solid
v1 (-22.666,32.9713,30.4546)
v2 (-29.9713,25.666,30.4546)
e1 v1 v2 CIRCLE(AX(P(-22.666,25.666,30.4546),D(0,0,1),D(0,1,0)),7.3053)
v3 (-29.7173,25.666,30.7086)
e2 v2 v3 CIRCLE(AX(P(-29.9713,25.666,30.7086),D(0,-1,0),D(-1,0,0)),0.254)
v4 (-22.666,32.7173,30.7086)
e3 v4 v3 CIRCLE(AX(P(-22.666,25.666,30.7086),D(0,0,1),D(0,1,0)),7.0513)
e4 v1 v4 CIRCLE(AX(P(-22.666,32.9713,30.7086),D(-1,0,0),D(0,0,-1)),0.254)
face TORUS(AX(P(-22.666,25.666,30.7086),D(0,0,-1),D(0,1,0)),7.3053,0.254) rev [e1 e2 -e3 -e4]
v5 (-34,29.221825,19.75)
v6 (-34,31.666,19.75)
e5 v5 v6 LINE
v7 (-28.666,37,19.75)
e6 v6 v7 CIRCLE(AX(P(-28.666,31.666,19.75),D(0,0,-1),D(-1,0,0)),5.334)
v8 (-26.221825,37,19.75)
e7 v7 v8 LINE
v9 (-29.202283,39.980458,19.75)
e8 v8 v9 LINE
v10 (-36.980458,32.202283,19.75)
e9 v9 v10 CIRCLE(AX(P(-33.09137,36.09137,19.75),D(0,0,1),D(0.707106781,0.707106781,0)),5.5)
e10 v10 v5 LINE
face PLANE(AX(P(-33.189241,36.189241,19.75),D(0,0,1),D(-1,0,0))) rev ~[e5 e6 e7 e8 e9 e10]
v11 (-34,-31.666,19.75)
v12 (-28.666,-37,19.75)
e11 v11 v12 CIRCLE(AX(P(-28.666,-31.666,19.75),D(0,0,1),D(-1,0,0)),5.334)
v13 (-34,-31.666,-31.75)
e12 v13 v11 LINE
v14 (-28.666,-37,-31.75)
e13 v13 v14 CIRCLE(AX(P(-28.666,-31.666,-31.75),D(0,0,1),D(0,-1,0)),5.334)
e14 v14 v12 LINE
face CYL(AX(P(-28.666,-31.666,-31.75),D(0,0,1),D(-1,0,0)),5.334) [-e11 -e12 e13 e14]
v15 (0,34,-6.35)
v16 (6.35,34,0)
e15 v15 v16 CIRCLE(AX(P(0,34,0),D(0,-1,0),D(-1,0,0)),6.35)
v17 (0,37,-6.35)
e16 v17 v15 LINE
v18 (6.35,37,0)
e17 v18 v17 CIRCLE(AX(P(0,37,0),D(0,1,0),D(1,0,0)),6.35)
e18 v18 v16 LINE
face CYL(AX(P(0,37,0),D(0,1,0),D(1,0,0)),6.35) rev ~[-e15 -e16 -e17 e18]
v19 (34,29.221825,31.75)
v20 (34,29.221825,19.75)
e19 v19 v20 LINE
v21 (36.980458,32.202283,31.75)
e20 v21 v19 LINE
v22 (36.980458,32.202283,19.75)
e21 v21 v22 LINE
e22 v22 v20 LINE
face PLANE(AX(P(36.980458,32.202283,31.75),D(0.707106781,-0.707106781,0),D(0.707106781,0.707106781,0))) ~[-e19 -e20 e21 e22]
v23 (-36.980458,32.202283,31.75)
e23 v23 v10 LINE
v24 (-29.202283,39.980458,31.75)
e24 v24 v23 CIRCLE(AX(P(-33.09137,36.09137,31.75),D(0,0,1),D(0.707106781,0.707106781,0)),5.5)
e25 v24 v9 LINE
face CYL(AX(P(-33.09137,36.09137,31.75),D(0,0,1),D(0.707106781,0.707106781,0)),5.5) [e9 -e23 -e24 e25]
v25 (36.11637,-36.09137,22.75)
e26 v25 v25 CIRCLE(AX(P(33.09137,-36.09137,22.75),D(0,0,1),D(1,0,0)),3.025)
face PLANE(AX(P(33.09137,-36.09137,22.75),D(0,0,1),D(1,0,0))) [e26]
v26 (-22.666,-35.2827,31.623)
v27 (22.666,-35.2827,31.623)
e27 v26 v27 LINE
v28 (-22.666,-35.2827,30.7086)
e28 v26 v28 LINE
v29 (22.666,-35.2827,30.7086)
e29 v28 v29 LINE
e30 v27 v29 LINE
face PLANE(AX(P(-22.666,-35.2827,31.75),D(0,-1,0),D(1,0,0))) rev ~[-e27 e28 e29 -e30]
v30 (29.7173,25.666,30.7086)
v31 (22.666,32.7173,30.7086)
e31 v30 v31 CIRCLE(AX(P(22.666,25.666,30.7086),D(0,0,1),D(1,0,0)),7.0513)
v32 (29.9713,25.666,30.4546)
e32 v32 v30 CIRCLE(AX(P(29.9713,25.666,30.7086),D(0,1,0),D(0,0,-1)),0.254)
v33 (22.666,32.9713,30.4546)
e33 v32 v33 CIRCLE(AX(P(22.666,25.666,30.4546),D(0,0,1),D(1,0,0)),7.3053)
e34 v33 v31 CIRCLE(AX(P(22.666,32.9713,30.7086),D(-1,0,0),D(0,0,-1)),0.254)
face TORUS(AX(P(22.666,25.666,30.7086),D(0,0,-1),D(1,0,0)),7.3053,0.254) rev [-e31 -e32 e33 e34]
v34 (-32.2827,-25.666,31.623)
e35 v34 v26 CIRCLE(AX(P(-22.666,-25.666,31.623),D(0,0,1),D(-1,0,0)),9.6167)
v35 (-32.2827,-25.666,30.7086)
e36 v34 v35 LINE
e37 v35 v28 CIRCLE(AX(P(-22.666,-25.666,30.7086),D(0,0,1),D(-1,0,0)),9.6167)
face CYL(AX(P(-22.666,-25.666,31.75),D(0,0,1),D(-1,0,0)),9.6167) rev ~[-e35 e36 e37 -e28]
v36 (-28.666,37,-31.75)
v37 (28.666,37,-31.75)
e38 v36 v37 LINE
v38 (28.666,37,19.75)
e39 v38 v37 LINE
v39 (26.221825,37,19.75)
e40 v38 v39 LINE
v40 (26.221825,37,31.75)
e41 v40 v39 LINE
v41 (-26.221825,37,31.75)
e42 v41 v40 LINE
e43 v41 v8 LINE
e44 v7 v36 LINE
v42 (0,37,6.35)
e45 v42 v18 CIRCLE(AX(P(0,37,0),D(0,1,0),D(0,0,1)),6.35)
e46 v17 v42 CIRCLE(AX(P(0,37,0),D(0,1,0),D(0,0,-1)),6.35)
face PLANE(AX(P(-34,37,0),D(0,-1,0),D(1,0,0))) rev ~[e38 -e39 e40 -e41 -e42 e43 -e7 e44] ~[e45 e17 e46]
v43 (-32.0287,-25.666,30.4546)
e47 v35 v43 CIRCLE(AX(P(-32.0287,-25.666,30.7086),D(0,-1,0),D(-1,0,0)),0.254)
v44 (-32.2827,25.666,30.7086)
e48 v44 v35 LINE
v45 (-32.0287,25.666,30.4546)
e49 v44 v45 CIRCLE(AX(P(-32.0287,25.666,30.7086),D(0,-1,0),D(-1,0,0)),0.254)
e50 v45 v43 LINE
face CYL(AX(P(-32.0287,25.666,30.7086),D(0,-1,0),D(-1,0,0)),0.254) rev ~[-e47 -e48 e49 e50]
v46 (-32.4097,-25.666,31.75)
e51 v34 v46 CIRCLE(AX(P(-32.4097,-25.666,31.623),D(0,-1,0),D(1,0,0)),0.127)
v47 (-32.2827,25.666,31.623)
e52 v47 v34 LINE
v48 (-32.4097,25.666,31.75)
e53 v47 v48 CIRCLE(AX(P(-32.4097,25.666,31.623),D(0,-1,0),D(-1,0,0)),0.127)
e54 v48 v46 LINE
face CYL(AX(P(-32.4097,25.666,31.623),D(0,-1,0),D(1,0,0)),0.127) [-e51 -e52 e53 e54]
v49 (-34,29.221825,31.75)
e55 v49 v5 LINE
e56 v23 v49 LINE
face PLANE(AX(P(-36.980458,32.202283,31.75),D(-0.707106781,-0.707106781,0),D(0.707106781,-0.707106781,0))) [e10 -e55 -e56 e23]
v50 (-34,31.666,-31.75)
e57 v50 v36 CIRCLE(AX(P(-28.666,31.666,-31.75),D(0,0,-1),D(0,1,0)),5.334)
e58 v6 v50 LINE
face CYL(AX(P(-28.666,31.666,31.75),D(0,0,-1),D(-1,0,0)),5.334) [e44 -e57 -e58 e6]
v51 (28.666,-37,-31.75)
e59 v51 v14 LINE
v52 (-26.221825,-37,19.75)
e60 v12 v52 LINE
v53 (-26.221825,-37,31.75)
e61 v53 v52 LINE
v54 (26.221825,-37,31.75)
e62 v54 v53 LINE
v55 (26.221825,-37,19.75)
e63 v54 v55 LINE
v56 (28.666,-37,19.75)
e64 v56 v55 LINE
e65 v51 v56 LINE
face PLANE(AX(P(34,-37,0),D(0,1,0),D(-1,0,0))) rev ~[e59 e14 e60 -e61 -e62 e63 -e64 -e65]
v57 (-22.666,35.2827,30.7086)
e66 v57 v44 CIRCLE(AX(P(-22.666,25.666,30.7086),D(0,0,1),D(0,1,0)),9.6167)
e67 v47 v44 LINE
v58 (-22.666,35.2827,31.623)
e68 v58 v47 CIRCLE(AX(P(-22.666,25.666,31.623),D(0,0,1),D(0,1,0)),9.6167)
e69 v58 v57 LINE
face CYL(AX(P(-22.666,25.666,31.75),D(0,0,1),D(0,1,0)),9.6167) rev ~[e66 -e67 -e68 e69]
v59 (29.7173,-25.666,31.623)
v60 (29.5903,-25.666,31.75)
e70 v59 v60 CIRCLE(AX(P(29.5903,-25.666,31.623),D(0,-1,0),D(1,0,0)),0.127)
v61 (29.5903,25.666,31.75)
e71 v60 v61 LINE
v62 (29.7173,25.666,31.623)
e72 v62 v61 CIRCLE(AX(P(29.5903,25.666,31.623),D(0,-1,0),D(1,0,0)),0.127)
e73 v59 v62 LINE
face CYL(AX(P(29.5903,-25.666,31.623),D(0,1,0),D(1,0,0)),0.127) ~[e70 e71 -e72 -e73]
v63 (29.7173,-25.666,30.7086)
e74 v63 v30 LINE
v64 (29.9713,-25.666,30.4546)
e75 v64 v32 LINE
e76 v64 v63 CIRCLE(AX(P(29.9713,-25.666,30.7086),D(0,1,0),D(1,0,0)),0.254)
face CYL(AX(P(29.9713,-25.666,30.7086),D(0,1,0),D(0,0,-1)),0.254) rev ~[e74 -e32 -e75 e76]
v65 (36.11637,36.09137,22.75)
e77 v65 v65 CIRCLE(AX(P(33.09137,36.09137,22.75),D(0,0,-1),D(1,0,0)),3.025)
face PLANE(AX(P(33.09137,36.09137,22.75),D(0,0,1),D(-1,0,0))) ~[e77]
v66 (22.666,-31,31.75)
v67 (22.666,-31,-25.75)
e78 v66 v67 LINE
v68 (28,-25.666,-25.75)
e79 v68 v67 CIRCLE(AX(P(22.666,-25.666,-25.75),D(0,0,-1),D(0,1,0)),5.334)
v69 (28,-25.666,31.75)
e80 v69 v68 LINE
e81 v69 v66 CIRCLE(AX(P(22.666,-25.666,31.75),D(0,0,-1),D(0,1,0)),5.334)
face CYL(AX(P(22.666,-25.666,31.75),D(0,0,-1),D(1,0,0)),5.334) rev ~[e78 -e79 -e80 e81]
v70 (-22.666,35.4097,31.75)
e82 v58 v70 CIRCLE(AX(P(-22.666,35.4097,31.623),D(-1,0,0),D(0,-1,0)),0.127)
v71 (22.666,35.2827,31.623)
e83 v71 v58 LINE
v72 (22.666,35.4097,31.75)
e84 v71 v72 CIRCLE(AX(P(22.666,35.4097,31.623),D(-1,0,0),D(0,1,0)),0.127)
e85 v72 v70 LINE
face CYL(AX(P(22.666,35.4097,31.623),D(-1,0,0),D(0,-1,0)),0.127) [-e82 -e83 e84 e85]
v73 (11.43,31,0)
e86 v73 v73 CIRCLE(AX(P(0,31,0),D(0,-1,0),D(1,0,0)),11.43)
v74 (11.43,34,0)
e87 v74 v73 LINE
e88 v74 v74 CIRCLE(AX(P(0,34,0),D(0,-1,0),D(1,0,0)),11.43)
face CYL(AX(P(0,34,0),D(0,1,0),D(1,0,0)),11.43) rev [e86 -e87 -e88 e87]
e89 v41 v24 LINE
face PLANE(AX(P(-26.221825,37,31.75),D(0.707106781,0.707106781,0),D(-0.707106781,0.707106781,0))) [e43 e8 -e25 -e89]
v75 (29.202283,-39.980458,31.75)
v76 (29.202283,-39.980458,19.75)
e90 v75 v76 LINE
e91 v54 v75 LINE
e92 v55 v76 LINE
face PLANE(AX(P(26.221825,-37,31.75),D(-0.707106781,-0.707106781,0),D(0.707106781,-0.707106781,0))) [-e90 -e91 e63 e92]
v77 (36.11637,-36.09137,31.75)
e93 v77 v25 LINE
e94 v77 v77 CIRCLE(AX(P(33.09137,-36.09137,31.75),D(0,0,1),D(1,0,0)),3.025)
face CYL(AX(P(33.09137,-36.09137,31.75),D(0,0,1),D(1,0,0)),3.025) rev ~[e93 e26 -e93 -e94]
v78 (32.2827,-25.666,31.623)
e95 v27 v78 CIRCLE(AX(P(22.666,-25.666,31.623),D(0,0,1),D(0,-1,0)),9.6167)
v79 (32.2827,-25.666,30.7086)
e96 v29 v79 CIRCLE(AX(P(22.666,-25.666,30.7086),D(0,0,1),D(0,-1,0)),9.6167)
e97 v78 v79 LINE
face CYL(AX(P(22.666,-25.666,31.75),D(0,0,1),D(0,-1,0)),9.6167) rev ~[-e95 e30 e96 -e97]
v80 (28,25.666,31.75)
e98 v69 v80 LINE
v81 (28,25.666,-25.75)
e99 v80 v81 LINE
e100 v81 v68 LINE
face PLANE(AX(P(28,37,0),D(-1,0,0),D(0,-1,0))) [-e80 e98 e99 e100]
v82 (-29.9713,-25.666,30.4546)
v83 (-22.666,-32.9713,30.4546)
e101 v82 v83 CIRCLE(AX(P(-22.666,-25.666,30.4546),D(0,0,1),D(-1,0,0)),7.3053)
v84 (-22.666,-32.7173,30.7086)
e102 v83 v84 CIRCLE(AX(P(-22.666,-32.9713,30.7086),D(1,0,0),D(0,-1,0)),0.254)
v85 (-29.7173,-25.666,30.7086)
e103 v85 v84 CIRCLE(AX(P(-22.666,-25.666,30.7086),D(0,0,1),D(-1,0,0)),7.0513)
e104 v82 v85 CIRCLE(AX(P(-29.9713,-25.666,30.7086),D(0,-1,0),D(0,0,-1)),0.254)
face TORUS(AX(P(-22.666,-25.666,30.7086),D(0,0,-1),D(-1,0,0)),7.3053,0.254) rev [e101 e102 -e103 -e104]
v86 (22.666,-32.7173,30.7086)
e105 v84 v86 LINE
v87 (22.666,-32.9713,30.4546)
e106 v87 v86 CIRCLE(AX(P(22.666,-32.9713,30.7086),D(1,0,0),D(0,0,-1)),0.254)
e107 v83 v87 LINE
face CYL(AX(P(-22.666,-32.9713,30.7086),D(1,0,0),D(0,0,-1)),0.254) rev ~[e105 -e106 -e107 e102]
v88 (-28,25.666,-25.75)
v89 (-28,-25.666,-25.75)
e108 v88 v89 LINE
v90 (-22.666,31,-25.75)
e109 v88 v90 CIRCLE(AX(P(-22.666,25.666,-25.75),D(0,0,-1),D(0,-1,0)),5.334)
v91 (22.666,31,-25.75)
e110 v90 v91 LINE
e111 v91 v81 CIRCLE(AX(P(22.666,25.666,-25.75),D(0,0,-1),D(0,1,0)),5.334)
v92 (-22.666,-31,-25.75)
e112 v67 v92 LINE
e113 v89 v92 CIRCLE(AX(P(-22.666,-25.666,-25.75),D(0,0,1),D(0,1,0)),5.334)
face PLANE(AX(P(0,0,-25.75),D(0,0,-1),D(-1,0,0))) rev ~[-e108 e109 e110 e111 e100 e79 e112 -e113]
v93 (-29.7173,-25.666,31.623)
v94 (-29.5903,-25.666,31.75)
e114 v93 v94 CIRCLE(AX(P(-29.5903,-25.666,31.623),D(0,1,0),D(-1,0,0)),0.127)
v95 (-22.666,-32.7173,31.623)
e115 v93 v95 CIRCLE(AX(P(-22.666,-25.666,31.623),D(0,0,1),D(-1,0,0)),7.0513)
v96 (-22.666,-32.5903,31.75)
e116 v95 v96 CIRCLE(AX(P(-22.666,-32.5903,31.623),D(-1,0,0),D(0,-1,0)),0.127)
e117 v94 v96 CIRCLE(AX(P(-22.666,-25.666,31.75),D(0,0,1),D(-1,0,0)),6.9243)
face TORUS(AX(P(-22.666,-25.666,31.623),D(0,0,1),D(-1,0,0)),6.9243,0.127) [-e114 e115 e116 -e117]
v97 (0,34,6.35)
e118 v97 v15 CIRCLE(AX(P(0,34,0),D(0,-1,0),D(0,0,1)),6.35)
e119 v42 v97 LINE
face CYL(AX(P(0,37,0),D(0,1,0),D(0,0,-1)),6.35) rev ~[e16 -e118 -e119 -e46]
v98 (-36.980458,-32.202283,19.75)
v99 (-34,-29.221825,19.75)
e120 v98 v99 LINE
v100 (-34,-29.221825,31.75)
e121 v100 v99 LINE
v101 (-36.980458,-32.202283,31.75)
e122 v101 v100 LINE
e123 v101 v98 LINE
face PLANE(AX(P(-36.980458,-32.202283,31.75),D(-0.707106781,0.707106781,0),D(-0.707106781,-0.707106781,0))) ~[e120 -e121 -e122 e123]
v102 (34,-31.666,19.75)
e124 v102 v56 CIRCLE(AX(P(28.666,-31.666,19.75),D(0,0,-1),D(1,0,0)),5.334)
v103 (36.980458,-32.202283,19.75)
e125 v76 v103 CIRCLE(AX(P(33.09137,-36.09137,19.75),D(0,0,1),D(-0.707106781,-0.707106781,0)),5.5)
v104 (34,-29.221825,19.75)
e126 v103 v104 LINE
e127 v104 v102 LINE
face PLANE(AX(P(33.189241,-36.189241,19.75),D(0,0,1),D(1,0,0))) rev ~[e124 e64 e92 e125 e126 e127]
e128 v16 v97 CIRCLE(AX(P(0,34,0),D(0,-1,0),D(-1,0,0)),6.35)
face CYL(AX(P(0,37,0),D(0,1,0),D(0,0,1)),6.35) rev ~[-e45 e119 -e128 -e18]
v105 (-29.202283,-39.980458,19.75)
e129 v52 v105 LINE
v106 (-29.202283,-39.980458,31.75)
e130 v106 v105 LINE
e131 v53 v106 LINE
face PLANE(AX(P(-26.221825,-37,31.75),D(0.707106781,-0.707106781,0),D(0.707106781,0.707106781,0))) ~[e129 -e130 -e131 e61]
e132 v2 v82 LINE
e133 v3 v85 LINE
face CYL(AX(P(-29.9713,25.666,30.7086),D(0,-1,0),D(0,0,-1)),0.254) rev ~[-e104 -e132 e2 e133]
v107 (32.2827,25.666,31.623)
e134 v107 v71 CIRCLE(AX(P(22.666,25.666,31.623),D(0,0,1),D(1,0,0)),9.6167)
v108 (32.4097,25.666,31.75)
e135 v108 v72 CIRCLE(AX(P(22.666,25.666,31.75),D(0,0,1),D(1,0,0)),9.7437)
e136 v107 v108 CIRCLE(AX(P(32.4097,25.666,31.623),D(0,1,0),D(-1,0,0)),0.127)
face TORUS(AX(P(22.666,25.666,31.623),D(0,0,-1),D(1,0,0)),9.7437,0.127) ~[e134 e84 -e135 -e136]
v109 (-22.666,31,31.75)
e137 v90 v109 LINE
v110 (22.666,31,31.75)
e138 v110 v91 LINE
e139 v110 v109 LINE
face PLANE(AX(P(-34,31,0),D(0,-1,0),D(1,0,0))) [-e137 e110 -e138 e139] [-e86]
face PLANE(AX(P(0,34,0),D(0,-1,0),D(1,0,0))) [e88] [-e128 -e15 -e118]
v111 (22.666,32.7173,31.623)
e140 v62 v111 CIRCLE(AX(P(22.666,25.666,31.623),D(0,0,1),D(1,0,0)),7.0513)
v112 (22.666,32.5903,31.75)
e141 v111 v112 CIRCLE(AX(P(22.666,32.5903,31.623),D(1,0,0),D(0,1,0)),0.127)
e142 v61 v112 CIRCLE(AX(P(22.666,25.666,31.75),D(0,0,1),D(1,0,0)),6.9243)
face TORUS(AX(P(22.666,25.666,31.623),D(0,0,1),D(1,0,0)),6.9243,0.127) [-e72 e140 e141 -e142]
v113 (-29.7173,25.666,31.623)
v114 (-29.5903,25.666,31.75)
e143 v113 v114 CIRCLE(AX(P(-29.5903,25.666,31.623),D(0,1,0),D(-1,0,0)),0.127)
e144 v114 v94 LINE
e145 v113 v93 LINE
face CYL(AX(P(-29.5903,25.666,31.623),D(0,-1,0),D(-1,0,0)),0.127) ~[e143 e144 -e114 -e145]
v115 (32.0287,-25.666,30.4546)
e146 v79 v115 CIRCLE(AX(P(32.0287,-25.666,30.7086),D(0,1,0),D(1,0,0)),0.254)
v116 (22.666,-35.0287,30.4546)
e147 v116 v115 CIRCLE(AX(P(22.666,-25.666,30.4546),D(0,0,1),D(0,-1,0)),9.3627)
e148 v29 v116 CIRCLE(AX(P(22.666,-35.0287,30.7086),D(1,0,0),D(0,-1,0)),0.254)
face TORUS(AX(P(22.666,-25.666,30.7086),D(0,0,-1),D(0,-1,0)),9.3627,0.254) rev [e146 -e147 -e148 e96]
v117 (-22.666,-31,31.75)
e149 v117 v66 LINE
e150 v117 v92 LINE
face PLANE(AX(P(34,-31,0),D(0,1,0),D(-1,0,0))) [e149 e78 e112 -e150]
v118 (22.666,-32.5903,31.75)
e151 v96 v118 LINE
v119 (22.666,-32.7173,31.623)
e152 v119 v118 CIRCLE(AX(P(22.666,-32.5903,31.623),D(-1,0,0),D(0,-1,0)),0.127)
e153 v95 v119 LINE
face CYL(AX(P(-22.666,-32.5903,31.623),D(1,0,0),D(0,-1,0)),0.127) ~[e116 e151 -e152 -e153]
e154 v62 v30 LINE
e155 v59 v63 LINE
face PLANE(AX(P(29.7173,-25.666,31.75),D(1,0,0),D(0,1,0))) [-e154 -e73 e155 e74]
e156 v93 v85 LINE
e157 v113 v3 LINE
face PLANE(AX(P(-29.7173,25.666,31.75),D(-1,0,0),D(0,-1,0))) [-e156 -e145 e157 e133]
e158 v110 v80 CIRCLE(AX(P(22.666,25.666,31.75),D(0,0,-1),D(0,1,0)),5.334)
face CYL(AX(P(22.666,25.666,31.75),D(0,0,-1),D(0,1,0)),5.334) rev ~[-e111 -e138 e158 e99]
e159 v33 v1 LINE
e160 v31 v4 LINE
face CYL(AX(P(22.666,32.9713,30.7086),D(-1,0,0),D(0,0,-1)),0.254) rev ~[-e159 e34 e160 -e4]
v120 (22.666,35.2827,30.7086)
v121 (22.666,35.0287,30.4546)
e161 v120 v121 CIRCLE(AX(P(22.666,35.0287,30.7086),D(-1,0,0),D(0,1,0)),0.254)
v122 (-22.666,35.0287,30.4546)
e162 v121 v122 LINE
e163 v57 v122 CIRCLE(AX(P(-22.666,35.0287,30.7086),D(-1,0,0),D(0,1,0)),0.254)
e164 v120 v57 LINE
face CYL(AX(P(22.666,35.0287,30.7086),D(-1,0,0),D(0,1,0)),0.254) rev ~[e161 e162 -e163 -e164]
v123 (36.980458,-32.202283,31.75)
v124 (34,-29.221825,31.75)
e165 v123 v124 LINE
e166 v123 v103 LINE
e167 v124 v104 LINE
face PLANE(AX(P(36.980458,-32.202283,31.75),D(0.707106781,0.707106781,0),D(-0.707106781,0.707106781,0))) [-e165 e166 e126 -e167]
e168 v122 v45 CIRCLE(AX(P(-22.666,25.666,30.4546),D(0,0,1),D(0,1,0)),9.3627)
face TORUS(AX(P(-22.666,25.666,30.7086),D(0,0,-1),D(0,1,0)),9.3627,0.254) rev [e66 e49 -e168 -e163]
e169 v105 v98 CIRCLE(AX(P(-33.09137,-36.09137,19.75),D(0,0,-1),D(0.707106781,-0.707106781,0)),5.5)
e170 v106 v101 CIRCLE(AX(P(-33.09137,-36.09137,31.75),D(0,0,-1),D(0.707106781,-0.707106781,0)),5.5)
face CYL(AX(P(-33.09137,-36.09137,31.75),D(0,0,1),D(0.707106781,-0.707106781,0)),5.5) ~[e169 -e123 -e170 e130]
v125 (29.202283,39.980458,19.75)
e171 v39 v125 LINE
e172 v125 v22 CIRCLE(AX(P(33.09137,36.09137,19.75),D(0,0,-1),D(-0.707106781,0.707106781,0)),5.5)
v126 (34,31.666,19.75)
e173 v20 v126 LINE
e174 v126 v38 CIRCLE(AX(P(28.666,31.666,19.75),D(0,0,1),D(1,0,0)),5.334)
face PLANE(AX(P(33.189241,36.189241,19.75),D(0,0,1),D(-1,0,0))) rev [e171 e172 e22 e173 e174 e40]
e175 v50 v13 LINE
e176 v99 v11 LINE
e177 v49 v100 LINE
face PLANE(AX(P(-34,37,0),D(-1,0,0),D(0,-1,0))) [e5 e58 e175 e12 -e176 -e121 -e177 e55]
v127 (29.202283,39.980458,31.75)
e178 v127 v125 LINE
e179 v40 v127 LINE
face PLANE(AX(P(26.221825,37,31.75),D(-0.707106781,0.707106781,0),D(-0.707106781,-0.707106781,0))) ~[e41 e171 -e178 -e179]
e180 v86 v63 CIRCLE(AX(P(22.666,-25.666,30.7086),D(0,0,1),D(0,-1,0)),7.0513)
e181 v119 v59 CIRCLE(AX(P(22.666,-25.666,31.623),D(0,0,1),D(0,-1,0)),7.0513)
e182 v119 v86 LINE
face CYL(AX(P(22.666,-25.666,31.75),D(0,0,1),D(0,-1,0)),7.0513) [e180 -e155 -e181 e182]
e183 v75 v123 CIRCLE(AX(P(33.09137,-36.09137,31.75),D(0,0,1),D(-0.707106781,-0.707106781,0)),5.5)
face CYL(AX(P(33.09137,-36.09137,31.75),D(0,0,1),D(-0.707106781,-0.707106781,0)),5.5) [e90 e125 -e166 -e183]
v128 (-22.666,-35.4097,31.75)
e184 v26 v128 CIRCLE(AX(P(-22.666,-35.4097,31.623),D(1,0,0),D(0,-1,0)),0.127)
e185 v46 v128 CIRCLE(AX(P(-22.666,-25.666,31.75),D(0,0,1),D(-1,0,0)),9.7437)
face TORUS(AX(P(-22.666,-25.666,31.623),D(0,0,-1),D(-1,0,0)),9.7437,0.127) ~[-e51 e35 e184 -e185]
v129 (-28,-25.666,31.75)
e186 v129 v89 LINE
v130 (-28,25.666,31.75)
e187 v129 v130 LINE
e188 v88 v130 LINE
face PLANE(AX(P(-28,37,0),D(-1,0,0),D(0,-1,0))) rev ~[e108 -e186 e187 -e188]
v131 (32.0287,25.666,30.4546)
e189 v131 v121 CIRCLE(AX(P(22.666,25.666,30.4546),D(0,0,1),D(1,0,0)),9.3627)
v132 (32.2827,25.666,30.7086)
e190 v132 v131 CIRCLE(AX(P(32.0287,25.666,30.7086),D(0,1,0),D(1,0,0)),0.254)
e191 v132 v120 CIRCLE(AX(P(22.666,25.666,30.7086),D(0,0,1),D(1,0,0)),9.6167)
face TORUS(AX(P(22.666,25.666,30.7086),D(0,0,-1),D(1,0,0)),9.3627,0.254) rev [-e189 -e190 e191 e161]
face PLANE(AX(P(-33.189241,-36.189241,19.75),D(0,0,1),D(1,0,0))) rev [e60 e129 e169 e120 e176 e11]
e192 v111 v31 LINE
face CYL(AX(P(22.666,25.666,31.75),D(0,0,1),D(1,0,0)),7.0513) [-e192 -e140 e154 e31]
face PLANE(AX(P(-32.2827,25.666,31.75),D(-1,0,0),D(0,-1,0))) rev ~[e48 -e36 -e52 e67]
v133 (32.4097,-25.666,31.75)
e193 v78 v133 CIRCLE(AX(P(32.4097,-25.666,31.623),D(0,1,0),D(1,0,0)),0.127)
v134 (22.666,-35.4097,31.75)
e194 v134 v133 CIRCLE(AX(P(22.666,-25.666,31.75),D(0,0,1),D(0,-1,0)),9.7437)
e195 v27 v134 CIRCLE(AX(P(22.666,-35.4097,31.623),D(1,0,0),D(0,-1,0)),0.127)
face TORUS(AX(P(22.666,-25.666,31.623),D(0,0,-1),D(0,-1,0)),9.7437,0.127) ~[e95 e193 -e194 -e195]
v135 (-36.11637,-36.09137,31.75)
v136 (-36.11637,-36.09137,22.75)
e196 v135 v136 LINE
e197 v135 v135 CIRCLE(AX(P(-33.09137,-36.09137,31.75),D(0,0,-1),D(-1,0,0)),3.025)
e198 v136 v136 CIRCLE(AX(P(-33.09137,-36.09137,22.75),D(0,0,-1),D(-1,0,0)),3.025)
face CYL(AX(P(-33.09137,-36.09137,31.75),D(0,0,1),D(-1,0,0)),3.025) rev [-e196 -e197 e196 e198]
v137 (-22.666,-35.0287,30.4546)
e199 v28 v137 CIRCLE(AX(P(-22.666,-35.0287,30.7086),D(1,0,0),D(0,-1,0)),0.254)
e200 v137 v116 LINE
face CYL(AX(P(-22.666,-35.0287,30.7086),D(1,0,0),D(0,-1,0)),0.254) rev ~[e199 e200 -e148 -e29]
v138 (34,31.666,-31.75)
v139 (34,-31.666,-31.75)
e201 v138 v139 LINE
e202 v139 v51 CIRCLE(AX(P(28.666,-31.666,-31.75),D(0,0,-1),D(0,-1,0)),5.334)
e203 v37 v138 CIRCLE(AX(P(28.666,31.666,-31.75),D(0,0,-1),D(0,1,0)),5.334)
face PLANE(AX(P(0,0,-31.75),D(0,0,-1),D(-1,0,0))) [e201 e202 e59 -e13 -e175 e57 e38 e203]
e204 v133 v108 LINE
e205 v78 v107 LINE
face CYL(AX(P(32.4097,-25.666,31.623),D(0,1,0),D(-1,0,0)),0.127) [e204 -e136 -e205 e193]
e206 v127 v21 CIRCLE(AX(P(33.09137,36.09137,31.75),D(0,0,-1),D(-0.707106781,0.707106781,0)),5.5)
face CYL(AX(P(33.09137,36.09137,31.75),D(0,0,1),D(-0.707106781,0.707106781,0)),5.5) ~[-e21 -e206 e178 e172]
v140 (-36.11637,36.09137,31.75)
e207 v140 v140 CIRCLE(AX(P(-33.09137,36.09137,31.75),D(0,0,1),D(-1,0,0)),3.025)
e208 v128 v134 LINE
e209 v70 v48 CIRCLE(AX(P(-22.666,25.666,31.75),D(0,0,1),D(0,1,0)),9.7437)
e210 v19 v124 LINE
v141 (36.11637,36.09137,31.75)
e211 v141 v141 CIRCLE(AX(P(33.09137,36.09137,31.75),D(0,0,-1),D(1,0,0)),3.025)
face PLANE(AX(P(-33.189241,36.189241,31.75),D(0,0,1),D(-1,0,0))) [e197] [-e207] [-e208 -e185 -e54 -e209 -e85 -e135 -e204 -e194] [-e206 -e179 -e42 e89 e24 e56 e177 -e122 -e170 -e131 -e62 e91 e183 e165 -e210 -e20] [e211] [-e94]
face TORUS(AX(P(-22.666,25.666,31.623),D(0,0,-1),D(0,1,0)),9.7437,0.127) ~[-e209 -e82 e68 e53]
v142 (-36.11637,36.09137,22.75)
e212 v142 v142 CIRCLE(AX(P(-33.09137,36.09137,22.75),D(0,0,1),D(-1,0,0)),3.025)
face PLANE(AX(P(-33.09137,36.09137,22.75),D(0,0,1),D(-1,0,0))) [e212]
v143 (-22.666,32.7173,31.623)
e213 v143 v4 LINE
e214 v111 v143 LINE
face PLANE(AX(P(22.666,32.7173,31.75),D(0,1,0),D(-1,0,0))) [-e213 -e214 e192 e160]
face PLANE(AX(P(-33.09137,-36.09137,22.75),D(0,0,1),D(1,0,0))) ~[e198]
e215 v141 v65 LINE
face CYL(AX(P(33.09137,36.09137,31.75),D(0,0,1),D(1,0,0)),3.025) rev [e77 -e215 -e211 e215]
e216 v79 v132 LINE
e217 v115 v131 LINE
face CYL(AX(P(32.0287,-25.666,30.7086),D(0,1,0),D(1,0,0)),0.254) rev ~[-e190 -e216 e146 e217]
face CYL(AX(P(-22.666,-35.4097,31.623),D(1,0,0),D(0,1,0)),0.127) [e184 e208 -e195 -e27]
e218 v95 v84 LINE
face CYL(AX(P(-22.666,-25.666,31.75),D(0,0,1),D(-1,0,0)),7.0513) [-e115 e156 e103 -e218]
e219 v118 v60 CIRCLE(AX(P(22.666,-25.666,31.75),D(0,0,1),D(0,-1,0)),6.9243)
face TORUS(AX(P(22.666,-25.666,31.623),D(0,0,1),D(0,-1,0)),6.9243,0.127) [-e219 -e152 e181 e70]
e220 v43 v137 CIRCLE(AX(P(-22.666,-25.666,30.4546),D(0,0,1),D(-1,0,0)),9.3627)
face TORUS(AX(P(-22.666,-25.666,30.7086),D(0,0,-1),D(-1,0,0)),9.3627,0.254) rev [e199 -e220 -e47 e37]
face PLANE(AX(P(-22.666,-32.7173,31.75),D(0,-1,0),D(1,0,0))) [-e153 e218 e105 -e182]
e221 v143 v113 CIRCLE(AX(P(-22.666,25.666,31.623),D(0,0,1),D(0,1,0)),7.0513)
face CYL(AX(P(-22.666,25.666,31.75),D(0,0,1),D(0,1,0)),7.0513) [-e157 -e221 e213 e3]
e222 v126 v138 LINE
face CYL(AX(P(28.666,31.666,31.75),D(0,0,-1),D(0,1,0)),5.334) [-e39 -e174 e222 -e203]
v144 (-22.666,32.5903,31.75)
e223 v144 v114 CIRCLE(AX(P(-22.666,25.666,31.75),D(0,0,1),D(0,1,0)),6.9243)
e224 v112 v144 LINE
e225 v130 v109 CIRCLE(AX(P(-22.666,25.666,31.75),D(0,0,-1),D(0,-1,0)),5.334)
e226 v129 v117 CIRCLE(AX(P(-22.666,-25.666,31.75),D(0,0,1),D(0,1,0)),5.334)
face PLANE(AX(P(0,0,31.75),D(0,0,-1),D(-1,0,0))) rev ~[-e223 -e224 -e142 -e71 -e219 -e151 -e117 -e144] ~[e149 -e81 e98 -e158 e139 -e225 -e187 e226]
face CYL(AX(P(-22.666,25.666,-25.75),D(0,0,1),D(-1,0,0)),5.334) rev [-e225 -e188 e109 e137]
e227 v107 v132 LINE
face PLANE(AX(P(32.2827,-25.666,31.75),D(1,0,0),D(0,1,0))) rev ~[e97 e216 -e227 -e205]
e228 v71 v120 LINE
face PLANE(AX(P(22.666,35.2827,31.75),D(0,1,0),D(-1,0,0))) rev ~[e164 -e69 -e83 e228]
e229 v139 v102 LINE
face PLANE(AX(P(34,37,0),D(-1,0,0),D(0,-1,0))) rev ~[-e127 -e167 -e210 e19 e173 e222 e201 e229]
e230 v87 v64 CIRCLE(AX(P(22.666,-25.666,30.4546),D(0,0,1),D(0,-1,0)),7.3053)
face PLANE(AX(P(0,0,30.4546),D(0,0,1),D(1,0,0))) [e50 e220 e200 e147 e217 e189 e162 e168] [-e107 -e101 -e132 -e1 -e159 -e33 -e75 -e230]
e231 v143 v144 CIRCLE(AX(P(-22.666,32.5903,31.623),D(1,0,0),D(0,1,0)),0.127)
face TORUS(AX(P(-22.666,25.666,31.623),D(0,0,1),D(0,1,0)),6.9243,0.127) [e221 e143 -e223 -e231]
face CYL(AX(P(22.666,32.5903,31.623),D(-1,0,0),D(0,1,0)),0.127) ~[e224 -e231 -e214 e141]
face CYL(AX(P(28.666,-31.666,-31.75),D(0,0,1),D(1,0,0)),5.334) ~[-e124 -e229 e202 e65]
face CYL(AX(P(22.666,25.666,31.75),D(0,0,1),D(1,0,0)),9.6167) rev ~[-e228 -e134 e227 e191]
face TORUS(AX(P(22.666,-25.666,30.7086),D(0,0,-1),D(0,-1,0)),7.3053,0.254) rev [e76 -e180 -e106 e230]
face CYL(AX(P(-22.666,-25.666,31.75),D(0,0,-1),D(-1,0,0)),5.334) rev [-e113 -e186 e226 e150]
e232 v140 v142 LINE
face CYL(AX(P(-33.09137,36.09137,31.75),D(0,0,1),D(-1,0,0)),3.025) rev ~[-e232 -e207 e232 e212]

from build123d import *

# Parameters (mm, degrees)
BOSS_EXTRUDE1_DEPTH     = 31.75
SHELL1_T                = -6
FILLET1_R               = 5.334
CUT_EXTRUDE1_DEPTH      = 1.2954
FILLET2_R               = 0.254
FILLET3_R               = 0.127
BOSS_EXTRUDE2_DEPTH     = 12
SKETCH4_R               = 3.025
CUT_EXTRUDE2_DEPTH      = 9
MIRROR2_COPY_1_DEPTH    = 12
MIRROR2_COPY_2_SKETCH_R = 3.025
MIRROR2_COPY_2_DEPTH    = 9
CUT_EXTRUDE3_DEPTH      = 6
CUT_EXTRUDE4_START      = -3
SKETCH7_R               = 11.43
SKETCH7_R_2             = 6.35
CUT_EXTRUDE4_DEPTH      = 3


with BuildPart() as part:
    # Sketch1 → Boss-Extrude1 (new, symmetric)
    with BuildSketch(Plane.XY):
        Polygon((-34, -37), (-34, -16.68), (-34, 16.68), (-34, 37), (34, 37), (34, -37), align=None)
    extrude(amount=BOSS_EXTRUDE1_DEPTH, both=True)

    # Shell1
    shell1_openings = [part.faces().sort_by_distance(p)[0] for p in [
        (0, 0, 31.75),
    ]]
    offset(amount=SHELL1_T, openings=shell1_openings, kind=Kind.INTERSECTION)

    # Fillet1
    fillet1_edges = [part.edges().sort_by_distance(p)[0] for p in [
        (-34, -37, 0),
        (-34, 37, 0),
        (34, 37, 0),
        (34, -37, 0),
        (-28, -31, 3),
        (28, -31, 3),
        (28, 31, 3),
        (-28, 31, 3),
    ]]
    fillet(fillet1_edges, radius=FILLET1_R)

    # Sketch2 → Cut-Extrude1 (cut)
    with BuildSketch(Plane.XY.offset(31.75)):
        with BuildLine():
            Line((32.2827, -25.666), (32.2827, 25.666))
            ThreePointArc((32.2827, 25.666), (29.466033783, 32.466033783), (22.666, 35.2827))
            Line((22.666, 35.2827), (-22.666, 35.2827))
            ThreePointArc((-22.666, 35.2827), (-29.466033783, 32.466033783), (-32.2827, 25.666))
            Line((-32.2827, 25.666), (-32.2827, -25.666))
            ThreePointArc((-32.2827, -25.666), (-29.466033783, -32.466033783), (-22.666, -35.2827))
            Line((-22.666, -35.2827), (22.666, -35.2827))
            ThreePointArc((22.666, -35.2827), (29.466033783, -32.466033783), (32.2827, -25.666))
        make_face()
        with BuildLine():
            Line((-29.7173, 25.666), (-29.7173, -25.666))
            ThreePointArc((-29.7173, -25.666), (-27.652022046, -30.652022046), (-22.666, -32.7173))
            Line((-22.666, -32.7173), (22.666, -32.7173))
            ThreePointArc((22.666, -32.7173), (27.652022046, -30.652022046), (29.7173, -25.666))
            Line((29.7173, -25.666), (29.7173, 25.666))
            ThreePointArc((29.7173, 25.666), (27.652022046, 30.652022046), (22.666, 32.7173))
            Line((22.666, 32.7173), (-22.666, 32.7173))
            ThreePointArc((-22.666, 32.7173), (-27.652022046, 30.652022046), (-29.7173, 25.666))
        make_face(mode=Mode.SUBTRACT)
    extrude(amount=-CUT_EXTRUDE1_DEPTH, mode=Mode.SUBTRACT)

    # Fillet2
    fillet2_edges = [part.edges().sort_by_distance(p)[0] for p in [
        (29.466033783, -32.466033783, 30.4546),
        (0, -35.2827, 30.4546),
        (-29.466033783, -32.466033783, 30.4546),
        (-32.2827, 0, 30.4546),
        (-29.466033783, 32.466033783, 30.4546),
        (0, 35.2827, 30.4546),
        (29.466033783, 32.466033783, 30.4546),
        (32.2827, 0, 30.4546),
        (0, 32.7173, 30.4546),
        (-27.652022046, 30.652022046, 30.4546),
        (-29.7173, 0, 30.4546),
        (-27.652022046, -30.652022046, 30.4546),
        (0, -32.7173, 30.4546),
        (27.652022046, -30.652022046, 30.4546),
        (29.7173, 0, 30.4546),
        (27.652022046, 30.652022046, 30.4546),
    ]]
    fillet(fillet2_edges, radius=FILLET2_R)

    # Fillet3
    fillet3_edges = [part.edges().sort_by_distance(p)[0] for p in [
        (29.466033783, -32.466033783, 31.75),
        (32.2827, 0, 31.75),
        (29.466033783, 32.466033783, 31.75),
        (0, 35.2827, 31.75),
        (-29.466033783, 32.466033783, 31.75),
        (-32.2827, 0, 31.75),
        (-29.466033783, -32.466033783, 31.75),
        (0, -35.2827, 31.75),
        (-27.652022046, 30.652022046, 31.75),
        (0, 32.7173, 31.75),
        (27.652022046, 30.652022046, 31.75),
        (29.7173, 0, 31.75),
        (27.652022046, -30.652022046, 31.75),
        (0, -32.7173, 31.75),
        (-27.652022046, -30.652022046, 31.75),
        (-29.7173, 0, 31.75),
    ]]
    fillet(fillet3_edges, radius=FILLET3_R)

    # Sketch3 → Boss-Extrude2 (add)
    with BuildSketch(Plane.XY.offset(31.75)):
        with BuildLine():
            Line((34, -29.221825407), (34, -31.666))
            ThreePointArc((34, -31.666), (32.437707571, -35.437707571), (28.666, -37))
            Line((28.666, -37), (26.221825407, -37))
            Line((26.221825407, -37), (29.202282953, -39.980457546))
            ThreePointArc((29.202282953, -39.980457546), (36.980457546, -39.980457546), (36.980457546, -32.202282953))
            Line((36.980457546, -32.202282953), (34, -29.221825407))
        make_face()
    boss_extrude2 = extrude(amount=-BOSS_EXTRUDE2_DEPTH)

    # Sketch4 → Cut-Extrude2 (cut)
    with BuildSketch(Plane.XY.offset(31.75)):
        with Locations((33.09137025, -36.09137025)):
            Circle(SKETCH4_R)
    cut_extrude2 = extrude(amount=-CUT_EXTRUDE2_DEPTH, mode=Mode.SUBTRACT)

    # Mirror1: Boss-Extrude2, Cut-Extrude2 across plane
    add(boss_extrude2.mirror(Plane.ZX))
    add(cut_extrude2.mirror(Plane.ZX), mode=Mode.SUBTRACT)

    # Mirror2: Boss-Extrude2, Cut-Extrude2 across plane
    add(boss_extrude2.mirror(Plane(origin=(0, 0, 0), x_dir=(0, 0, 1), z_dir=(1, 0, 0))))
    add(cut_extrude2.mirror(Plane(origin=(0, 0, 0), x_dir=(0, 0, 1), z_dir=(1, 0, 0))), mode=Mode.SUBTRACT)

    # Mirror2 copy 1 sketch → Mirror2 copy 1 (add)
    with BuildSketch(Plane(origin=(0, 0, 31.75), x_dir=(-1, 0, 0), z_dir=(0, 0, 1))):
        with BuildLine():
            Line((34, -29.221825407), (34, -31.666))
            ThreePointArc((34, -31.666), (32.437707571, -35.437707571), (28.666, -37))
            Line((28.666, -37), (26.221825407, -37))
            Line((26.221825407, -37), (29.202282953, -39.980457546))
            ThreePointArc((29.202282953, -39.980457546), (36.980457546, -39.980457546), (36.980457546, -32.202282953))
            Line((36.980457546, -32.202282953), (34, -29.221825407))
        make_face()
    extrude(amount=-MIRROR2_COPY_1_DEPTH)

    # Mirror2 copy 2 sketch → Mirror2 copy 2 (cut)
    with BuildSketch(Plane(origin=(0, 0, 31.75), x_dir=(-1, 0, 0), z_dir=(0, 0, 1))):
        with Locations((33.09137025, -36.09137025)):
            Circle(MIRROR2_COPY_2_SKETCH_R)
    extrude(amount=-MIRROR2_COPY_2_DEPTH, mode=Mode.SUBTRACT)

    # Sketch6 → Cut-Extrude3 (cut)
    with BuildSketch(Plane(origin=(0, 37, 0), x_dir=(1, 0, 0), z_dir=(0, 1, 0))):
        with BuildLine():
            ThreePointArc((0, 6.35), (-6.35, 0), (0, -6.35))
            Line((0, -6.35), (0, 6.35))
        make_face()
        with BuildLine():
            Line((0, 6.35), (0, -6.35))
            ThreePointArc((0, -6.35), (4.490128061, -4.490128061), (6.35, 0))
            ThreePointArc((6.35, 0), (4.490128061, 4.490128061), (0, 6.35))
        make_face()
    extrude(amount=-CUT_EXTRUDE3_DEPTH, mode=Mode.SUBTRACT)

    # Sketch7 → Cut-Extrude4 (cut)
    with BuildSketch(Plane.XZ.offset(-31).offset(CUT_EXTRUDE4_START)):
        Circle(SKETCH7_R)
        with Locations(Location((0, 0, 0), (0, 0, 180))):
            Circle(SKETCH7_R_2, mode=Mode.SUBTRACT)
    extrude(amount=CUT_EXTRUDE4_DEPTH, mode=Mode.SUBTRACT)


solid = part.part
